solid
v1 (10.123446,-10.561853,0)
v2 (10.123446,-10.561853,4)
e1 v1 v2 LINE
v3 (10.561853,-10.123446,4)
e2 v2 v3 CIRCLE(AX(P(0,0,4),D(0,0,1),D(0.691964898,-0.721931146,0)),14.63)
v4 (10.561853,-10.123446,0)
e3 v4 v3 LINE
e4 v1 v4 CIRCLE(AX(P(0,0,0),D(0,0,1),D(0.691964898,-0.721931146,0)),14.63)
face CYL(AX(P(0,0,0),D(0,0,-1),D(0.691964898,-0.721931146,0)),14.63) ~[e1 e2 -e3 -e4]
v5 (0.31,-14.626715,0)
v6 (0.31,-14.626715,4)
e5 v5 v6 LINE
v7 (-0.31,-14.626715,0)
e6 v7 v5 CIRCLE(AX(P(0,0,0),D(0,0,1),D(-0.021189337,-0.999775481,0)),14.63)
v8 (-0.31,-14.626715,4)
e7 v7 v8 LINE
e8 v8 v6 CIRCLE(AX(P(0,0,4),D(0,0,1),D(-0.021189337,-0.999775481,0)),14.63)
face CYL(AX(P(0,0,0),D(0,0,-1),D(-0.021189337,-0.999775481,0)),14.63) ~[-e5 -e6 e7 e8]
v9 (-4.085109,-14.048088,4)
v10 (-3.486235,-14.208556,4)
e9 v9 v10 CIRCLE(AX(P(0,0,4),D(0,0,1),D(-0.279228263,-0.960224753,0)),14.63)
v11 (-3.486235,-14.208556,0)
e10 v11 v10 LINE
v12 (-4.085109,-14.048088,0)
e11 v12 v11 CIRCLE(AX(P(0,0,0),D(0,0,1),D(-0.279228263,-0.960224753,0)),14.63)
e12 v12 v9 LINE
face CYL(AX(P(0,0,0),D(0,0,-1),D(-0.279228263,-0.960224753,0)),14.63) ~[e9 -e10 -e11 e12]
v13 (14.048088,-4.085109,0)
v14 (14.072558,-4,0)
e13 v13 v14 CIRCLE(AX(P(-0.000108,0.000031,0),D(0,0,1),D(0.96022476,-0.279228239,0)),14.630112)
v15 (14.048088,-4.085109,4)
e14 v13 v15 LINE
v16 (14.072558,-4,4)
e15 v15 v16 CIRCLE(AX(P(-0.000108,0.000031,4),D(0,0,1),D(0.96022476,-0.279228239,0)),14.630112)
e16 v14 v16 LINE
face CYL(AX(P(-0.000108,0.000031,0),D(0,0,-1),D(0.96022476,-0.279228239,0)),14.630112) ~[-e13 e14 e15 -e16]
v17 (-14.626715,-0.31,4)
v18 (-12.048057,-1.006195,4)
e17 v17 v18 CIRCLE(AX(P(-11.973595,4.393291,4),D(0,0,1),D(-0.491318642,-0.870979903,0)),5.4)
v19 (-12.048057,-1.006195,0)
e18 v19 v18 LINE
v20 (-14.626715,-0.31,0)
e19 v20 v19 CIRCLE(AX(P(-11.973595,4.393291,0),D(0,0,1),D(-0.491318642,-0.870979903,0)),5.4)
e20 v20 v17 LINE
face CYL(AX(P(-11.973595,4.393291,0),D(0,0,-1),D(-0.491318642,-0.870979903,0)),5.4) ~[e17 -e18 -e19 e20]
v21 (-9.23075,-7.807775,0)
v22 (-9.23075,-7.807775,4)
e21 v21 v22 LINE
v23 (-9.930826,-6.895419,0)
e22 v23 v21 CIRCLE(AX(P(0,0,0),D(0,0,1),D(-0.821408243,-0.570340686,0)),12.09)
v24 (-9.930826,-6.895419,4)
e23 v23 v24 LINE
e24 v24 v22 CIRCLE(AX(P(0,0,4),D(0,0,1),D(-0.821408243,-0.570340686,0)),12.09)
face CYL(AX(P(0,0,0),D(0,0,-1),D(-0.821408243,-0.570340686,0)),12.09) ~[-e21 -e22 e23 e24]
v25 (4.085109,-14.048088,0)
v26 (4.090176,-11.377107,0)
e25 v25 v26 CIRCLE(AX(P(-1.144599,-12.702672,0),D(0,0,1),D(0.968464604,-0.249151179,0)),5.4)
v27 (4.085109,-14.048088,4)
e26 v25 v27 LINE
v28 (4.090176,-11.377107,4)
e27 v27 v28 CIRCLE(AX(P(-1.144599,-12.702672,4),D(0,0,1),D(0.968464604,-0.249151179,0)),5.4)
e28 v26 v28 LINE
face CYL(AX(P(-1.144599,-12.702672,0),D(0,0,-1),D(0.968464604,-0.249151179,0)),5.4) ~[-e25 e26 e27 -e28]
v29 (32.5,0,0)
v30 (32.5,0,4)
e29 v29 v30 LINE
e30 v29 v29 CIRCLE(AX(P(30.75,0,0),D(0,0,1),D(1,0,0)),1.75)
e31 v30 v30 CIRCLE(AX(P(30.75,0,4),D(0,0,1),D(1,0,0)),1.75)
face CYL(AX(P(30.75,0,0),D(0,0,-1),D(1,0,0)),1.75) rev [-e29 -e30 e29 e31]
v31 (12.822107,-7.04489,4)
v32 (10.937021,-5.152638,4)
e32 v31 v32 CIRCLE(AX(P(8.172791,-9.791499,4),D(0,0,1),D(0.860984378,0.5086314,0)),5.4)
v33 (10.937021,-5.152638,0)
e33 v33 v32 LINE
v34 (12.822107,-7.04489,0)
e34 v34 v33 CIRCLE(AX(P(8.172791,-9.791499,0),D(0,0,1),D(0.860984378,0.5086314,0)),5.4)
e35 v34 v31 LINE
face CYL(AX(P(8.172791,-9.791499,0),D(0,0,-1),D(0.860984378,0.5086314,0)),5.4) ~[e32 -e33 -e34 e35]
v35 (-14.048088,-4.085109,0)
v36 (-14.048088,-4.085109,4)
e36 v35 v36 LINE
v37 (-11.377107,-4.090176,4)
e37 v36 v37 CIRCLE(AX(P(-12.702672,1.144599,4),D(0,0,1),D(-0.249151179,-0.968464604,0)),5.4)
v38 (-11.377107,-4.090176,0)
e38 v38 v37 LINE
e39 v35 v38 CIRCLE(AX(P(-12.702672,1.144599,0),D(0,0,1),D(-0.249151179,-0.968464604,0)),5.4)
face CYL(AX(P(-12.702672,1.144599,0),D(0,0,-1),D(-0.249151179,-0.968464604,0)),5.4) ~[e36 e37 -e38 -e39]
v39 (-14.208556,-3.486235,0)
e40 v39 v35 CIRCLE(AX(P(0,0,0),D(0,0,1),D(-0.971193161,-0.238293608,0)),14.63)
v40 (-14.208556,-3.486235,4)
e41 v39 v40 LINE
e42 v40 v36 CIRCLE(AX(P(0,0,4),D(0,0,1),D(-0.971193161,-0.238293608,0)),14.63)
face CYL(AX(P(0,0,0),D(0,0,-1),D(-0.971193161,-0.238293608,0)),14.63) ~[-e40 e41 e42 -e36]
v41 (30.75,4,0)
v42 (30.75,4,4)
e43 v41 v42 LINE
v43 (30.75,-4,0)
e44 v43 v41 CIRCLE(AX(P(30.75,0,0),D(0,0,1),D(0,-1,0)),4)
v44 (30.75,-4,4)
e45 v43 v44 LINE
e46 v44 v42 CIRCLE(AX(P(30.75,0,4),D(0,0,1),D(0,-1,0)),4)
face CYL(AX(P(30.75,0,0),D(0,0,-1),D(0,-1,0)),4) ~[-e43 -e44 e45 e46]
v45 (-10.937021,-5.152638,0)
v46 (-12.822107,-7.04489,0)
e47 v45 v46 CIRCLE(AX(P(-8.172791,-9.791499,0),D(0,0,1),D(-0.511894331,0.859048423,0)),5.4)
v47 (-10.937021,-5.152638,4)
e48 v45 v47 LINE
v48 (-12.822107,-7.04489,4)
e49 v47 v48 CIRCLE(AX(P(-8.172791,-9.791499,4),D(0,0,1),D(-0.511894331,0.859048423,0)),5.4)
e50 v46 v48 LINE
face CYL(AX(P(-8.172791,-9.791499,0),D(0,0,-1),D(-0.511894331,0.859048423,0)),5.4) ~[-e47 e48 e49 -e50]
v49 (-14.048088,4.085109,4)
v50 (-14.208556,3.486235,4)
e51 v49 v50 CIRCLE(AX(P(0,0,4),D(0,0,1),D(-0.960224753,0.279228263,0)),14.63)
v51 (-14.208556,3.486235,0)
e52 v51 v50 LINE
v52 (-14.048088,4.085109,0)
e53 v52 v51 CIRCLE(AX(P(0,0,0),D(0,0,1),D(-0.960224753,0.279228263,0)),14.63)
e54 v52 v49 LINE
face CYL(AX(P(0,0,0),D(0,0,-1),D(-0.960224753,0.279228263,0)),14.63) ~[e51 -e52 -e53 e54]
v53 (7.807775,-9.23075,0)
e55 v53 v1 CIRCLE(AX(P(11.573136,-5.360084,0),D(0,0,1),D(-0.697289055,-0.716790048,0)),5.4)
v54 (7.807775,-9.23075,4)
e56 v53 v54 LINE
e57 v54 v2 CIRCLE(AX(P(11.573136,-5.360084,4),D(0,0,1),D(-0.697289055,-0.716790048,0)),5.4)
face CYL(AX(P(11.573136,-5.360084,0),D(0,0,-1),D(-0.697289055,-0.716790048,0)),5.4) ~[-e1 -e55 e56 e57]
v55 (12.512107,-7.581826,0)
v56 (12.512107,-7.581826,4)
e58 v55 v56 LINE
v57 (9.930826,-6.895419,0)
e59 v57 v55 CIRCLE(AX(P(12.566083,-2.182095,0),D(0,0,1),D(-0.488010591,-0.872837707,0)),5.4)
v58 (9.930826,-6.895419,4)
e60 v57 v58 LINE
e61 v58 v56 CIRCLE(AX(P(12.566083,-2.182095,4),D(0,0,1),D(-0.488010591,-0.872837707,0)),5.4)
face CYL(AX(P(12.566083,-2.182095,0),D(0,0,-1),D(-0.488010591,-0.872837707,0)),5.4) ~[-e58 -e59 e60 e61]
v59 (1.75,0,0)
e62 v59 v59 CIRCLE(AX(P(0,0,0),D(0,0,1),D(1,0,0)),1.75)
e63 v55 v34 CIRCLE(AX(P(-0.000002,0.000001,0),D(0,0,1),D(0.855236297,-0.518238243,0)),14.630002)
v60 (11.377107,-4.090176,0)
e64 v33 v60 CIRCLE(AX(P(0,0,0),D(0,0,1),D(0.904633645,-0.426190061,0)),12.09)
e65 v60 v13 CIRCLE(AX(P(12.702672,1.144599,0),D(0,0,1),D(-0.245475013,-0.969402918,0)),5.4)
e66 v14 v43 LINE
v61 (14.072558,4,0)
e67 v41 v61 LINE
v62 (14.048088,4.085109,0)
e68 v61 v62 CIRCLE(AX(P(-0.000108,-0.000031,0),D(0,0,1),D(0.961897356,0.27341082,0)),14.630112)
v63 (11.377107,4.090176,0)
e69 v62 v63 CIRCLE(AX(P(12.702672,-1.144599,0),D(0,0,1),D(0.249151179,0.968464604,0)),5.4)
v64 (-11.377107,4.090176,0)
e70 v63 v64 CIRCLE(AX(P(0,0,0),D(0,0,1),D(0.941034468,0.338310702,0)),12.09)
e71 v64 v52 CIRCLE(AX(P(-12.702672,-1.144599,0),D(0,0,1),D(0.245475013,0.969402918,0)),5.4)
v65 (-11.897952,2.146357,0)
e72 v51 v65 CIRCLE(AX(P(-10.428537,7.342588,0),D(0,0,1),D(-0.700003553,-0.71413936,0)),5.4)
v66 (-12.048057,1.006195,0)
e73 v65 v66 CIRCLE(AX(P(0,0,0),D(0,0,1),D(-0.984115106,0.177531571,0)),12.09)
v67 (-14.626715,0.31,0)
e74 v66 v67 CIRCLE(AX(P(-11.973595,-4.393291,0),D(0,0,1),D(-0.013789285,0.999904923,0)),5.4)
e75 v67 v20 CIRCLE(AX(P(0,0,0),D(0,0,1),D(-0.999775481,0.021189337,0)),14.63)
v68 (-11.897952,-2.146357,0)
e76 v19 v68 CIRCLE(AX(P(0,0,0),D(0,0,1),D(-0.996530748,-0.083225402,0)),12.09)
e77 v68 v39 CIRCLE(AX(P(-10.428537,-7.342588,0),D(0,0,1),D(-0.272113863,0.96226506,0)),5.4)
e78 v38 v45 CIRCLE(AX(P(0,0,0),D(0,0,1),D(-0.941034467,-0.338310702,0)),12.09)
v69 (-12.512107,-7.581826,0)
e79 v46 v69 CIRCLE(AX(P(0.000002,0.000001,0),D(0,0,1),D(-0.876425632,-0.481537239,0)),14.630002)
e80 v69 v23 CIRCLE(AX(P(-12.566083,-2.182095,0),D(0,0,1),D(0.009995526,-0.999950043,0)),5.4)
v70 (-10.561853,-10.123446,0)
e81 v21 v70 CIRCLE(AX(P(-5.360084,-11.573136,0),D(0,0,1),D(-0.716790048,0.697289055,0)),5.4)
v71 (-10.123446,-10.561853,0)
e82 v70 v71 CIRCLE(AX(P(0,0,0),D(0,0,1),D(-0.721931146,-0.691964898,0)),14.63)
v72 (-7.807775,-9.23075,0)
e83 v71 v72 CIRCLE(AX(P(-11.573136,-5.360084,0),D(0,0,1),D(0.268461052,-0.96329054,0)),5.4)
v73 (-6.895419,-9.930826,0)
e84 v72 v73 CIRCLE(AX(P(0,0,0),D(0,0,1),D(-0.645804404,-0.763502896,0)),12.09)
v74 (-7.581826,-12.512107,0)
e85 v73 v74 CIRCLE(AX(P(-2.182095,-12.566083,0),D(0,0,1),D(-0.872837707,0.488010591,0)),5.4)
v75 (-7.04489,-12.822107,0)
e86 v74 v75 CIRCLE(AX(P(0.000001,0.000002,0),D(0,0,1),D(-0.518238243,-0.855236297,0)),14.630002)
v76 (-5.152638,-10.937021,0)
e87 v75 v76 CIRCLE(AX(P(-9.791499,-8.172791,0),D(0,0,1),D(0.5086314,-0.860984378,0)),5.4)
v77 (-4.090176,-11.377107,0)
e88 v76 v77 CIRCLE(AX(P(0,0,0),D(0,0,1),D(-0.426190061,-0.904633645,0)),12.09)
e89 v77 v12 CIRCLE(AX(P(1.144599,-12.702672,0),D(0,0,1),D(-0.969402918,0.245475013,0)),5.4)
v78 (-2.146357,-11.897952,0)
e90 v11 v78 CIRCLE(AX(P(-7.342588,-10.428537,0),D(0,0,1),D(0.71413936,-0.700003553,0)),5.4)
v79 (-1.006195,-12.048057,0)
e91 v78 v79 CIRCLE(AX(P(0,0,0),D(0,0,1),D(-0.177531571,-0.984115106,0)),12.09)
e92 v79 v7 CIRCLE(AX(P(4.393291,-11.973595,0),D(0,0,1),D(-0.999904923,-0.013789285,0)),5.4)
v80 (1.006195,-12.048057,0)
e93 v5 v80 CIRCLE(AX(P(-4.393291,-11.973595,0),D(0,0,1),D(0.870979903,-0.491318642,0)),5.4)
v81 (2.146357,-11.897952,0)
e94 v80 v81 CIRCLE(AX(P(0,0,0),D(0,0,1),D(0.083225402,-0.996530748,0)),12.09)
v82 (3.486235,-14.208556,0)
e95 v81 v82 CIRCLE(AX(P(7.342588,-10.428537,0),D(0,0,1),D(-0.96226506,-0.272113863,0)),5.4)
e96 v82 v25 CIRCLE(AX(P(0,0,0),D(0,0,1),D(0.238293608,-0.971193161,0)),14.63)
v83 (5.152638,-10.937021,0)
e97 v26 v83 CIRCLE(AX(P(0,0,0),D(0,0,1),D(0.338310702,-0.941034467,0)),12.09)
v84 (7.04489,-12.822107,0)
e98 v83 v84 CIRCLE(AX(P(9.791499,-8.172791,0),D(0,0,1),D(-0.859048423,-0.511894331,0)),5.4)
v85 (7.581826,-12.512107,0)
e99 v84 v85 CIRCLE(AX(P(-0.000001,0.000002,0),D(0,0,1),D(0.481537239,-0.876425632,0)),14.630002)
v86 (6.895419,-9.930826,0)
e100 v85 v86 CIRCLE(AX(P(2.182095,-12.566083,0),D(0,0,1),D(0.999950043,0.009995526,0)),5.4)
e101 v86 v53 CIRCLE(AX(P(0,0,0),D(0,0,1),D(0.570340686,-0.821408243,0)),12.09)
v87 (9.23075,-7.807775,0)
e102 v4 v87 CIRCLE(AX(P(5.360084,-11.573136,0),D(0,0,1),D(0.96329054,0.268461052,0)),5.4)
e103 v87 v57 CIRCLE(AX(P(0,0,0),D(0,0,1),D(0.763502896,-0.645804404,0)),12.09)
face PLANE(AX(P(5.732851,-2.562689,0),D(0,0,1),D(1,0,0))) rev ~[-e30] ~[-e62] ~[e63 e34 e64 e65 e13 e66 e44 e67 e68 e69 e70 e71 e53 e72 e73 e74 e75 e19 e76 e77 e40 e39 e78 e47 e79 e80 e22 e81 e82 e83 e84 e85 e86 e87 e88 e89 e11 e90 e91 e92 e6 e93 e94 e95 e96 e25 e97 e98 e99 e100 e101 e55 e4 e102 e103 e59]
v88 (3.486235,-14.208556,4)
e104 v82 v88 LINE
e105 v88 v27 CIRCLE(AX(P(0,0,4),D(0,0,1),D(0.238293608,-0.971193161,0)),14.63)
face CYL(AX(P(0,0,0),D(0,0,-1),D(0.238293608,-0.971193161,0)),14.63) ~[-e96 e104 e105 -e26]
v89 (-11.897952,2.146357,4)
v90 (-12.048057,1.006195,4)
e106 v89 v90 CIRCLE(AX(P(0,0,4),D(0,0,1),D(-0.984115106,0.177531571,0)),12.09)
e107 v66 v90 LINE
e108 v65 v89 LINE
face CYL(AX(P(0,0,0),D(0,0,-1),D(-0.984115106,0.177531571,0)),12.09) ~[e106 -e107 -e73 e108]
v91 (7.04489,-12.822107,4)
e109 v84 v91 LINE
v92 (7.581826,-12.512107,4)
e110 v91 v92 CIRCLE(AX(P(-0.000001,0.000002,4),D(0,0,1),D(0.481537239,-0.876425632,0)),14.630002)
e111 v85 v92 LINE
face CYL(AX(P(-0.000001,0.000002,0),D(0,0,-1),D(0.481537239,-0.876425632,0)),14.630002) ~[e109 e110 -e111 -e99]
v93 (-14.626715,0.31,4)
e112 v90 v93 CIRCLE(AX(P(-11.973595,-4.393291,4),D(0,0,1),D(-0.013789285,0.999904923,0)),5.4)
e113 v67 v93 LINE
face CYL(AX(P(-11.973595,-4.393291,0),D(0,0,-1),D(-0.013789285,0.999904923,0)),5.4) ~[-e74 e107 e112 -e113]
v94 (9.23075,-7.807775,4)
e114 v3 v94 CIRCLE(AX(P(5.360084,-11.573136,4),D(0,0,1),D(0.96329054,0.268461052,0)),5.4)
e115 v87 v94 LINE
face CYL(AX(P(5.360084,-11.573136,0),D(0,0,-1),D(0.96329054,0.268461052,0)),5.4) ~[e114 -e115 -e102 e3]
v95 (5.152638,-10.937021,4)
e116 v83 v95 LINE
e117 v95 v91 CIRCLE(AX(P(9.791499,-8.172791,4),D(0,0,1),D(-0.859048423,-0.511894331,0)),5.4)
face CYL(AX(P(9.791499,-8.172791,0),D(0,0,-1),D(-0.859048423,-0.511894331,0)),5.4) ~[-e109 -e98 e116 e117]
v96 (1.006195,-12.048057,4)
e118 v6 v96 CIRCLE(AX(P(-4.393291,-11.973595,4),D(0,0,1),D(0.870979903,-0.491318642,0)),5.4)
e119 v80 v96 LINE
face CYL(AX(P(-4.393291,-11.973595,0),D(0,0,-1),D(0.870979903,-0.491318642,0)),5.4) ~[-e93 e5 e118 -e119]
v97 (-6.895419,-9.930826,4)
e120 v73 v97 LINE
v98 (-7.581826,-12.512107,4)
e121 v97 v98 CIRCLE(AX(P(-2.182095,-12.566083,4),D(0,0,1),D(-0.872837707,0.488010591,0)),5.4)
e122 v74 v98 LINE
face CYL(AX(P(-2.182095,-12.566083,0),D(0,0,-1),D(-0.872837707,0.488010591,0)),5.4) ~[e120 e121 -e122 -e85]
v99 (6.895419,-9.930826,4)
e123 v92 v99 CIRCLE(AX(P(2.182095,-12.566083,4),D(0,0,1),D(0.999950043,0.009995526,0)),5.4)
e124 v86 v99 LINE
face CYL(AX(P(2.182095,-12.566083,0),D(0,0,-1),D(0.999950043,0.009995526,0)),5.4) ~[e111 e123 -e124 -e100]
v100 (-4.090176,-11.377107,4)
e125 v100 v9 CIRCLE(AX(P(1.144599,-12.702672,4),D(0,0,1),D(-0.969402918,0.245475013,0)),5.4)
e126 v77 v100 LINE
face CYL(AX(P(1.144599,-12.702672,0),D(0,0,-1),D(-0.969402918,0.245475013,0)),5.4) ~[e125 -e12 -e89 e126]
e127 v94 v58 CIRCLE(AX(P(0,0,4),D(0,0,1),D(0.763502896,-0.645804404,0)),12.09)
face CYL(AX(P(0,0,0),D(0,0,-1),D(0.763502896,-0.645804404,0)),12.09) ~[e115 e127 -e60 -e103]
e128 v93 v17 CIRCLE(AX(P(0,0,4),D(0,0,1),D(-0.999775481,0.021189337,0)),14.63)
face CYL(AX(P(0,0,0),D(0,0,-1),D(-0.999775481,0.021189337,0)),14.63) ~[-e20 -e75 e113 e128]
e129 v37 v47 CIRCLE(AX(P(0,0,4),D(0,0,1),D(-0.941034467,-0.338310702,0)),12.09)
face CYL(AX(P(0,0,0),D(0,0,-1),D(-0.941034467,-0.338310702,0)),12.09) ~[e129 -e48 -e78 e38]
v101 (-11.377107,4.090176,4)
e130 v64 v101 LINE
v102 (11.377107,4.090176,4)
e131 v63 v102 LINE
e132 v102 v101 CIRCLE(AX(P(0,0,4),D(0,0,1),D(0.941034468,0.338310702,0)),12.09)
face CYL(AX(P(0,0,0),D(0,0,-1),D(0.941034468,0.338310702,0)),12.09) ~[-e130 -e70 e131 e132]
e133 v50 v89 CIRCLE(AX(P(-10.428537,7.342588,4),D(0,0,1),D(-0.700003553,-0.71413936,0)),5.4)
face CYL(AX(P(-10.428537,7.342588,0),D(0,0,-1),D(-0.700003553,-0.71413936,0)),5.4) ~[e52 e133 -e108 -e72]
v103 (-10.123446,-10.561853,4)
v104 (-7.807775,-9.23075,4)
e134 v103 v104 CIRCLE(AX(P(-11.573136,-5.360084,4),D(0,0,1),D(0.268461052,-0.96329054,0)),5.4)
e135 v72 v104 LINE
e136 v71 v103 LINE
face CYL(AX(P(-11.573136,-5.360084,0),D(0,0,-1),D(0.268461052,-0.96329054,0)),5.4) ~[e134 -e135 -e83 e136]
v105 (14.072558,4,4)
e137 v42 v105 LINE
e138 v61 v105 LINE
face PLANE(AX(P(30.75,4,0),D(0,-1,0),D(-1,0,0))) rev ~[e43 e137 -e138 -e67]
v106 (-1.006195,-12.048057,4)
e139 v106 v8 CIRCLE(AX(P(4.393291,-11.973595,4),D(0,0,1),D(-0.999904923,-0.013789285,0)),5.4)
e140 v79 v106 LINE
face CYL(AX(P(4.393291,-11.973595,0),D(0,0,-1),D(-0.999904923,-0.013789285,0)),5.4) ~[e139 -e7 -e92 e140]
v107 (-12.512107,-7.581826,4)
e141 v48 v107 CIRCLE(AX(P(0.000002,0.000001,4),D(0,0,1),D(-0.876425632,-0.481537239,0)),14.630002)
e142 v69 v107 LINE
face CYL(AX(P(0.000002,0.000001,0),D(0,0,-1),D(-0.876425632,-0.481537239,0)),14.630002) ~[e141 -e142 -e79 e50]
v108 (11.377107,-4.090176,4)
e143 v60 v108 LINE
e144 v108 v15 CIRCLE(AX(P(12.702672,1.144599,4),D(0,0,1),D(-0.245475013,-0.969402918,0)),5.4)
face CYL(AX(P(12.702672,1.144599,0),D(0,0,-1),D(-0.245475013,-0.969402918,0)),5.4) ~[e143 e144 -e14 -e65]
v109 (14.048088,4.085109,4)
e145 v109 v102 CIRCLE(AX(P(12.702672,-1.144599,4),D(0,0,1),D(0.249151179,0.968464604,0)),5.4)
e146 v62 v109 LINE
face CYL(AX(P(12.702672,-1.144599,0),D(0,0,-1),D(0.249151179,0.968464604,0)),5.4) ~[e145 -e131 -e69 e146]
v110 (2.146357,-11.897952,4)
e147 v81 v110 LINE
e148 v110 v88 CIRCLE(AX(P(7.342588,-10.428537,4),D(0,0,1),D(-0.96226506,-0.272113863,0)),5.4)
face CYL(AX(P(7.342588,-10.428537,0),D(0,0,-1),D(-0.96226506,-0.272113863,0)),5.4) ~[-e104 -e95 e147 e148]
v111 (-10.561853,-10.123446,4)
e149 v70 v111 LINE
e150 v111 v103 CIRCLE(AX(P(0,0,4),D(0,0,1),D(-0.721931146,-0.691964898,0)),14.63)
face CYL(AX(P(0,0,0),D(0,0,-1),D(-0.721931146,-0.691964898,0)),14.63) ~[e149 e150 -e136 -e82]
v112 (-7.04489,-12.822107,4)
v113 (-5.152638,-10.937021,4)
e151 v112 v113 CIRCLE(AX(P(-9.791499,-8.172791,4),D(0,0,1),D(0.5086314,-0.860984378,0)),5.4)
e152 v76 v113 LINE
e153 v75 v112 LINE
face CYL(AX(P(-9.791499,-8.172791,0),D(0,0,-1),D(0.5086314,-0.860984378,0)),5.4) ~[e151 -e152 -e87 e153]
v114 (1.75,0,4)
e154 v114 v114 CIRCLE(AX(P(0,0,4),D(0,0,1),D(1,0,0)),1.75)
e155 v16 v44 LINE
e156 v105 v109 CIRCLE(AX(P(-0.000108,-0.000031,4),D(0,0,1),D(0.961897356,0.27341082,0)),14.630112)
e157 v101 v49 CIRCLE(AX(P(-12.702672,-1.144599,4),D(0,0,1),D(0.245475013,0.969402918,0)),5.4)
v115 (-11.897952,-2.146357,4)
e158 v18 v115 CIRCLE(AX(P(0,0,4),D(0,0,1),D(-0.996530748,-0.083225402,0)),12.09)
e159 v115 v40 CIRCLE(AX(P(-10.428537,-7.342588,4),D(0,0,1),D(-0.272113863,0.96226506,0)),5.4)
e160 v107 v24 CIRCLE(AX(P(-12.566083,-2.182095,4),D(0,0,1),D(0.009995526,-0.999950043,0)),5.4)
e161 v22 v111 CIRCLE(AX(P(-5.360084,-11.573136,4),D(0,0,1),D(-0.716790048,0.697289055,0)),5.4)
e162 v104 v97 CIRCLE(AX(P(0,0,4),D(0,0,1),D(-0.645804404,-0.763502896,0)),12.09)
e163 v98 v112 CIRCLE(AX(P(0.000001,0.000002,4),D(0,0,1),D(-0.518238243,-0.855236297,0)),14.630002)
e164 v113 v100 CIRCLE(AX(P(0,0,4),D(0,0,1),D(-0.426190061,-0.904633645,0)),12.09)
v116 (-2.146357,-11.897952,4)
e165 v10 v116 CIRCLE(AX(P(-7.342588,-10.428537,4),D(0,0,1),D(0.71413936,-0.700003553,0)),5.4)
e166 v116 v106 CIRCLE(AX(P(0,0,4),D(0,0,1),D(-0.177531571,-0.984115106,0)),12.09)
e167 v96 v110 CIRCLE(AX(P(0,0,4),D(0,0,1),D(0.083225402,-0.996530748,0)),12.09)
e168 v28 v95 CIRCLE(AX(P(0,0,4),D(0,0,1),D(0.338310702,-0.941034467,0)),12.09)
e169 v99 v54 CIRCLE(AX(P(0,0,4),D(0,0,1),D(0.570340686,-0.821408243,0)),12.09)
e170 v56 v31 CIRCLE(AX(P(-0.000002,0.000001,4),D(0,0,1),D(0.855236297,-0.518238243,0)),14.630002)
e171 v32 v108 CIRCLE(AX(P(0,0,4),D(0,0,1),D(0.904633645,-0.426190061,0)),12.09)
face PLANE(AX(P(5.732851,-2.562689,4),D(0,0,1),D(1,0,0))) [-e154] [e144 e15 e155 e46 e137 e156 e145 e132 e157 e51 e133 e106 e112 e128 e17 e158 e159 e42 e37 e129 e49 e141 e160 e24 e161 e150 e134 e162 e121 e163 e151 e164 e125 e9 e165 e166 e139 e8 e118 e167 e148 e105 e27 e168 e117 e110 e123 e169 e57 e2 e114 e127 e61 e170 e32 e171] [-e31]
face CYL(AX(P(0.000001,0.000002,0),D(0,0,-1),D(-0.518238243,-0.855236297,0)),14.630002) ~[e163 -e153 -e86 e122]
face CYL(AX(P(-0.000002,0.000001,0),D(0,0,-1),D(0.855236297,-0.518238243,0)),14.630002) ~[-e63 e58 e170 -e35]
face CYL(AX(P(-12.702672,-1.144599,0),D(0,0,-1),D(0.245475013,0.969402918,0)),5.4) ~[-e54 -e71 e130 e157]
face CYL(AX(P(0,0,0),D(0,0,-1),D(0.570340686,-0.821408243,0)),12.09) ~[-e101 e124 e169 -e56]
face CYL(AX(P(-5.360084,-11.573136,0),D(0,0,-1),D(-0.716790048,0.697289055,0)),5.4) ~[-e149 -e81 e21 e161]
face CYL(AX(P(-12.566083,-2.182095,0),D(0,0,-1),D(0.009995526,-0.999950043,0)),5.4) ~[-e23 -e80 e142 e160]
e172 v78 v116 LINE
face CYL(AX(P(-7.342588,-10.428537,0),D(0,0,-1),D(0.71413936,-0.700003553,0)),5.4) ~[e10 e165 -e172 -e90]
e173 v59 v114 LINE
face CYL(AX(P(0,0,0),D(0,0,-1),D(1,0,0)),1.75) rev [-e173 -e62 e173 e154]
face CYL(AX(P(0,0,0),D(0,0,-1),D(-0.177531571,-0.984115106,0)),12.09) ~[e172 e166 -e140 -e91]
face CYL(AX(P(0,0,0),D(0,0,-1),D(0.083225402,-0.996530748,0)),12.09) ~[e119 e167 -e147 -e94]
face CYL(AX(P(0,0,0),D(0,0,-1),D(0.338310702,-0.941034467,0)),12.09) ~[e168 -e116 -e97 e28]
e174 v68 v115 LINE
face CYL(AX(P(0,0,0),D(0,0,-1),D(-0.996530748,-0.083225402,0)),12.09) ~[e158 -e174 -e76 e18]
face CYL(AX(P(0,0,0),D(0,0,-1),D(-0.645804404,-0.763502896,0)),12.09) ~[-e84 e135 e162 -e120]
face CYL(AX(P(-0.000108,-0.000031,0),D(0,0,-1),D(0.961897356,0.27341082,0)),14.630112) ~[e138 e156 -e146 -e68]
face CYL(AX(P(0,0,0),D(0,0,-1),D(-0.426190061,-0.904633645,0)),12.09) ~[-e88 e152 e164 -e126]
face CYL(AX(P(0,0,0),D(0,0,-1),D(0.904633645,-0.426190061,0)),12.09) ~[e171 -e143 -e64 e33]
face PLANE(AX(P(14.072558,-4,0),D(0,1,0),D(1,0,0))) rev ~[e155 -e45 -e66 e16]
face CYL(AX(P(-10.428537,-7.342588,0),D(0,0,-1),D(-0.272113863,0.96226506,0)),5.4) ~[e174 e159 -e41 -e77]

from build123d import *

# Parameters (mm, degrees)
SKETCH1_R           = 1.75
BOSS_EXTRUDE1_DEPTH = 4


with BuildPart() as part:
    # Sketch1 → Boss-Extrude1 (new body)
    with BuildSketch(Plane.XY):
        with BuildLine():
            ThreePointArc((14.048088143, -4.085109489), (14.06038767, -4.04257326), (14.072558403, -4))
            Line((14.072558403, -4), (30.75, -4))
            ThreePointArc((30.75, -4), (34.75, 0), (30.75, 4))
            Line((30.75, 4), (14.072558403, 4))
            ThreePointArc((14.072558403, 4), (14.06038767, 4.04257326), (14.048088143, 4.085109489))
            ThreePointArc((14.048088143, 4.085109489), (12.712915648, 4.255390909), (11.377106712, 4.090176385))
            ThreePointArc((11.377106712, 4.090176385), (0, 12.09), (-11.377106712, 4.090176385))
            ThreePointArc((-11.377106712, 4.090176385), (-12.712915648, 4.255390909), (-14.048088143, 4.085109489))
            ThreePointArc((-14.048088143, 4.085109489), (-14.131494839, 3.78652263), (-14.208555951, 3.486235477))
            ThreePointArc((-14.208555951, 3.486235477), (-13.137403362, 2.671181194), (-11.897951627, 2.1463567))
            ThreePointArc((-11.897951627, 2.1463567), (-11.986568374, 1.578061664), (-12.048056748, 1.00619511))
            ThreePointArc((-12.048056748, 1.00619511), (-13.381109763, 0.820047291), (-14.626715284, 0.31))
            ThreePointArc((-14.626715284, 0.31), (-14.63, 0), (-14.626715284, -0.31))
            ThreePointArc((-14.626715284, -0.31), (-13.381109763, -0.820047291), (-12.048056748, -1.00619511))
            ThreePointArc((-12.048056748, -1.00619511), (-11.986568374, -1.578061664), (-11.897951627, -2.1463567))
            ThreePointArc((-11.897951627, -2.1463567), (-13.137403362, -2.671181194), (-14.208555951, -3.486235477))
            ThreePointArc((-14.208555951, -3.486235477), (-14.131494839, -3.78652263), (-14.048088143, -4.085109489))
            ThreePointArc((-14.048088143, -4.085109489), (-12.712915648, -4.255390909), (-11.377106712, -4.090176385))
            ThreePointArc((-11.377106712, -4.090176385), (-11.169703548, -4.626642697), (-10.937020765, -5.152637848))
            ThreePointArc((-10.937020765, -5.152637848), (-11.998404632, -5.980373095), (-12.82210701, -7.044889767))
            ThreePointArc((-12.82210701, -7.044889767), (-12.669951657, -7.315), (-12.51210701, -7.581825517))
            ThreePointArc((-12.51210701, -7.581825517), (-11.17835734, -7.400736668), (-9.930825655, -6.8954189))
            ThreePointArc((-9.930825655, -6.8954189), (-9.591641884, -7.359925677), (-9.230750012, -7.807775241))
            ThreePointArc((-9.230750012, -7.807775241), (-10.041734454, -8.882012453), (-10.561852666, -10.123446462))
            ThreePointArc((-10.561852666, -10.123446462), (-10.344972209, -10.344972209), (-10.123446462, -10.561852666))
            ThreePointArc((-10.123446462, -10.561852666), (-8.882012453, -10.041734454), (-7.807775241, -9.230750012))
            ThreePointArc((-7.807775241, -9.230750012), (-7.359925677, -9.591641884), (-6.8954189, -9.930825655))
            ThreePointArc((-6.8954189, -9.930825655), (-7.400736668, -11.17835734), (-7.581825517, -12.51210701))
            ThreePointArc((-7.581825517, -12.51210701), (-7.315, -12.669951657), (-7.044889767, -12.82210701))
            ThreePointArc((-7.044889767, -12.82210701), (-5.980373095, -11.998404632), (-5.152637848, -10.937020765))
            ThreePointArc((-5.152637848, -10.937020765), (-4.626642697, -11.169703548), (-4.090176385, -11.377106712))
            ThreePointArc((-4.090176385, -11.377106712), (-4.255390909, -12.712915648), (-4.085109489, -14.048088143))
            ThreePointArc((-4.085109489, -14.048088143), (-3.78652263, -14.131494839), (-3.486235477, -14.208555951))
            ThreePointArc((-3.486235477, -14.208555951), (-2.671181194, -13.137403362), (-2.1463567, -11.897951627))
            ThreePointArc((-2.1463567, -11.897951627), (-1.578061664, -11.986568374), (-1.00619511, -12.048056748))
            ThreePointArc((-1.00619511, -12.048056748), (-0.820047291, -13.381109763), (-0.31, -14.626715284))
            ThreePointArc((-0.31, -14.626715284), (0, -14.63), (0.31, -14.626715284))
            ThreePointArc((0.31, -14.626715284), (0.820047291, -13.381109763), (1.00619511, -12.048056748))
            ThreePointArc((1.00619511, -12.048056748), (1.578061664, -11.986568374), (2.1463567, -11.897951627))
            ThreePointArc((2.1463567, -11.897951627), (2.671181194, -13.137403362), (3.486235477, -14.208555951))
            ThreePointArc((3.486235477, -14.208555951), (3.78652263, -14.131494839), (4.085109489, -14.048088143))
            ThreePointArc((4.085109489, -14.048088143), (4.255390909, -12.712915648), (4.090176385, -11.377106712))
            ThreePointArc((4.090176385, -11.377106712), (4.626642697, -11.169703548), (5.152637848, -10.937020765))
            ThreePointArc((5.152637848, -10.937020765), (5.980373095, -11.998404632), (7.044889767, -12.82210701))
            ThreePointArc((7.044889767, -12.82210701), (7.315, -12.669951657), (7.581825517, -12.51210701))
            ThreePointArc((7.581825517, -12.51210701), (7.400736668, -11.17835734), (6.8954189, -9.930825655))
            ThreePointArc((6.8954189, -9.930825655), (7.359925677, -9.591641884), (7.807775241, -9.230750012))
            ThreePointArc((7.807775241, -9.230750012), (8.882012453, -10.041734454), (10.123446462, -10.561852666))
            ThreePointArc((10.123446462, -10.561852666), (10.344972209, -10.344972209), (10.561852666, -10.123446462))
            ThreePointArc((10.561852666, -10.123446462), (10.041734454, -8.882012453), (9.230750012, -7.807775241))
            ThreePointArc((9.230750012, -7.807775241), (9.591641884, -7.359925677), (9.930825655, -6.8954189))
            ThreePointArc((9.930825655, -6.8954189), (11.17835734, -7.400736668), (12.51210701, -7.581825517))
            ThreePointArc((12.51210701, -7.581825517), (12.669951657, -7.315), (12.82210701, -7.044889767))
            ThreePointArc((12.82210701, -7.044889767), (11.998404632, -5.980373095), (10.937020765, -5.152637848))
            ThreePointArc((10.937020765, -5.152637848), (11.169703548, -4.626642697), (11.377106712, -4.090176385))
            ThreePointArc((11.377106712, -4.090176385), (12.712915648, -4.255390909), (14.048088143, -4.085109489))
        make_face()
        Circle(SKETCH1_R, mode=Mode.SUBTRACT)
        with Locations((30.75, 0)):
            Circle(SKETCH1_R, mode=Mode.SUBTRACT)
    extrude(amount=BOSS_EXTRUDE1_DEPTH)


solid = part.part
